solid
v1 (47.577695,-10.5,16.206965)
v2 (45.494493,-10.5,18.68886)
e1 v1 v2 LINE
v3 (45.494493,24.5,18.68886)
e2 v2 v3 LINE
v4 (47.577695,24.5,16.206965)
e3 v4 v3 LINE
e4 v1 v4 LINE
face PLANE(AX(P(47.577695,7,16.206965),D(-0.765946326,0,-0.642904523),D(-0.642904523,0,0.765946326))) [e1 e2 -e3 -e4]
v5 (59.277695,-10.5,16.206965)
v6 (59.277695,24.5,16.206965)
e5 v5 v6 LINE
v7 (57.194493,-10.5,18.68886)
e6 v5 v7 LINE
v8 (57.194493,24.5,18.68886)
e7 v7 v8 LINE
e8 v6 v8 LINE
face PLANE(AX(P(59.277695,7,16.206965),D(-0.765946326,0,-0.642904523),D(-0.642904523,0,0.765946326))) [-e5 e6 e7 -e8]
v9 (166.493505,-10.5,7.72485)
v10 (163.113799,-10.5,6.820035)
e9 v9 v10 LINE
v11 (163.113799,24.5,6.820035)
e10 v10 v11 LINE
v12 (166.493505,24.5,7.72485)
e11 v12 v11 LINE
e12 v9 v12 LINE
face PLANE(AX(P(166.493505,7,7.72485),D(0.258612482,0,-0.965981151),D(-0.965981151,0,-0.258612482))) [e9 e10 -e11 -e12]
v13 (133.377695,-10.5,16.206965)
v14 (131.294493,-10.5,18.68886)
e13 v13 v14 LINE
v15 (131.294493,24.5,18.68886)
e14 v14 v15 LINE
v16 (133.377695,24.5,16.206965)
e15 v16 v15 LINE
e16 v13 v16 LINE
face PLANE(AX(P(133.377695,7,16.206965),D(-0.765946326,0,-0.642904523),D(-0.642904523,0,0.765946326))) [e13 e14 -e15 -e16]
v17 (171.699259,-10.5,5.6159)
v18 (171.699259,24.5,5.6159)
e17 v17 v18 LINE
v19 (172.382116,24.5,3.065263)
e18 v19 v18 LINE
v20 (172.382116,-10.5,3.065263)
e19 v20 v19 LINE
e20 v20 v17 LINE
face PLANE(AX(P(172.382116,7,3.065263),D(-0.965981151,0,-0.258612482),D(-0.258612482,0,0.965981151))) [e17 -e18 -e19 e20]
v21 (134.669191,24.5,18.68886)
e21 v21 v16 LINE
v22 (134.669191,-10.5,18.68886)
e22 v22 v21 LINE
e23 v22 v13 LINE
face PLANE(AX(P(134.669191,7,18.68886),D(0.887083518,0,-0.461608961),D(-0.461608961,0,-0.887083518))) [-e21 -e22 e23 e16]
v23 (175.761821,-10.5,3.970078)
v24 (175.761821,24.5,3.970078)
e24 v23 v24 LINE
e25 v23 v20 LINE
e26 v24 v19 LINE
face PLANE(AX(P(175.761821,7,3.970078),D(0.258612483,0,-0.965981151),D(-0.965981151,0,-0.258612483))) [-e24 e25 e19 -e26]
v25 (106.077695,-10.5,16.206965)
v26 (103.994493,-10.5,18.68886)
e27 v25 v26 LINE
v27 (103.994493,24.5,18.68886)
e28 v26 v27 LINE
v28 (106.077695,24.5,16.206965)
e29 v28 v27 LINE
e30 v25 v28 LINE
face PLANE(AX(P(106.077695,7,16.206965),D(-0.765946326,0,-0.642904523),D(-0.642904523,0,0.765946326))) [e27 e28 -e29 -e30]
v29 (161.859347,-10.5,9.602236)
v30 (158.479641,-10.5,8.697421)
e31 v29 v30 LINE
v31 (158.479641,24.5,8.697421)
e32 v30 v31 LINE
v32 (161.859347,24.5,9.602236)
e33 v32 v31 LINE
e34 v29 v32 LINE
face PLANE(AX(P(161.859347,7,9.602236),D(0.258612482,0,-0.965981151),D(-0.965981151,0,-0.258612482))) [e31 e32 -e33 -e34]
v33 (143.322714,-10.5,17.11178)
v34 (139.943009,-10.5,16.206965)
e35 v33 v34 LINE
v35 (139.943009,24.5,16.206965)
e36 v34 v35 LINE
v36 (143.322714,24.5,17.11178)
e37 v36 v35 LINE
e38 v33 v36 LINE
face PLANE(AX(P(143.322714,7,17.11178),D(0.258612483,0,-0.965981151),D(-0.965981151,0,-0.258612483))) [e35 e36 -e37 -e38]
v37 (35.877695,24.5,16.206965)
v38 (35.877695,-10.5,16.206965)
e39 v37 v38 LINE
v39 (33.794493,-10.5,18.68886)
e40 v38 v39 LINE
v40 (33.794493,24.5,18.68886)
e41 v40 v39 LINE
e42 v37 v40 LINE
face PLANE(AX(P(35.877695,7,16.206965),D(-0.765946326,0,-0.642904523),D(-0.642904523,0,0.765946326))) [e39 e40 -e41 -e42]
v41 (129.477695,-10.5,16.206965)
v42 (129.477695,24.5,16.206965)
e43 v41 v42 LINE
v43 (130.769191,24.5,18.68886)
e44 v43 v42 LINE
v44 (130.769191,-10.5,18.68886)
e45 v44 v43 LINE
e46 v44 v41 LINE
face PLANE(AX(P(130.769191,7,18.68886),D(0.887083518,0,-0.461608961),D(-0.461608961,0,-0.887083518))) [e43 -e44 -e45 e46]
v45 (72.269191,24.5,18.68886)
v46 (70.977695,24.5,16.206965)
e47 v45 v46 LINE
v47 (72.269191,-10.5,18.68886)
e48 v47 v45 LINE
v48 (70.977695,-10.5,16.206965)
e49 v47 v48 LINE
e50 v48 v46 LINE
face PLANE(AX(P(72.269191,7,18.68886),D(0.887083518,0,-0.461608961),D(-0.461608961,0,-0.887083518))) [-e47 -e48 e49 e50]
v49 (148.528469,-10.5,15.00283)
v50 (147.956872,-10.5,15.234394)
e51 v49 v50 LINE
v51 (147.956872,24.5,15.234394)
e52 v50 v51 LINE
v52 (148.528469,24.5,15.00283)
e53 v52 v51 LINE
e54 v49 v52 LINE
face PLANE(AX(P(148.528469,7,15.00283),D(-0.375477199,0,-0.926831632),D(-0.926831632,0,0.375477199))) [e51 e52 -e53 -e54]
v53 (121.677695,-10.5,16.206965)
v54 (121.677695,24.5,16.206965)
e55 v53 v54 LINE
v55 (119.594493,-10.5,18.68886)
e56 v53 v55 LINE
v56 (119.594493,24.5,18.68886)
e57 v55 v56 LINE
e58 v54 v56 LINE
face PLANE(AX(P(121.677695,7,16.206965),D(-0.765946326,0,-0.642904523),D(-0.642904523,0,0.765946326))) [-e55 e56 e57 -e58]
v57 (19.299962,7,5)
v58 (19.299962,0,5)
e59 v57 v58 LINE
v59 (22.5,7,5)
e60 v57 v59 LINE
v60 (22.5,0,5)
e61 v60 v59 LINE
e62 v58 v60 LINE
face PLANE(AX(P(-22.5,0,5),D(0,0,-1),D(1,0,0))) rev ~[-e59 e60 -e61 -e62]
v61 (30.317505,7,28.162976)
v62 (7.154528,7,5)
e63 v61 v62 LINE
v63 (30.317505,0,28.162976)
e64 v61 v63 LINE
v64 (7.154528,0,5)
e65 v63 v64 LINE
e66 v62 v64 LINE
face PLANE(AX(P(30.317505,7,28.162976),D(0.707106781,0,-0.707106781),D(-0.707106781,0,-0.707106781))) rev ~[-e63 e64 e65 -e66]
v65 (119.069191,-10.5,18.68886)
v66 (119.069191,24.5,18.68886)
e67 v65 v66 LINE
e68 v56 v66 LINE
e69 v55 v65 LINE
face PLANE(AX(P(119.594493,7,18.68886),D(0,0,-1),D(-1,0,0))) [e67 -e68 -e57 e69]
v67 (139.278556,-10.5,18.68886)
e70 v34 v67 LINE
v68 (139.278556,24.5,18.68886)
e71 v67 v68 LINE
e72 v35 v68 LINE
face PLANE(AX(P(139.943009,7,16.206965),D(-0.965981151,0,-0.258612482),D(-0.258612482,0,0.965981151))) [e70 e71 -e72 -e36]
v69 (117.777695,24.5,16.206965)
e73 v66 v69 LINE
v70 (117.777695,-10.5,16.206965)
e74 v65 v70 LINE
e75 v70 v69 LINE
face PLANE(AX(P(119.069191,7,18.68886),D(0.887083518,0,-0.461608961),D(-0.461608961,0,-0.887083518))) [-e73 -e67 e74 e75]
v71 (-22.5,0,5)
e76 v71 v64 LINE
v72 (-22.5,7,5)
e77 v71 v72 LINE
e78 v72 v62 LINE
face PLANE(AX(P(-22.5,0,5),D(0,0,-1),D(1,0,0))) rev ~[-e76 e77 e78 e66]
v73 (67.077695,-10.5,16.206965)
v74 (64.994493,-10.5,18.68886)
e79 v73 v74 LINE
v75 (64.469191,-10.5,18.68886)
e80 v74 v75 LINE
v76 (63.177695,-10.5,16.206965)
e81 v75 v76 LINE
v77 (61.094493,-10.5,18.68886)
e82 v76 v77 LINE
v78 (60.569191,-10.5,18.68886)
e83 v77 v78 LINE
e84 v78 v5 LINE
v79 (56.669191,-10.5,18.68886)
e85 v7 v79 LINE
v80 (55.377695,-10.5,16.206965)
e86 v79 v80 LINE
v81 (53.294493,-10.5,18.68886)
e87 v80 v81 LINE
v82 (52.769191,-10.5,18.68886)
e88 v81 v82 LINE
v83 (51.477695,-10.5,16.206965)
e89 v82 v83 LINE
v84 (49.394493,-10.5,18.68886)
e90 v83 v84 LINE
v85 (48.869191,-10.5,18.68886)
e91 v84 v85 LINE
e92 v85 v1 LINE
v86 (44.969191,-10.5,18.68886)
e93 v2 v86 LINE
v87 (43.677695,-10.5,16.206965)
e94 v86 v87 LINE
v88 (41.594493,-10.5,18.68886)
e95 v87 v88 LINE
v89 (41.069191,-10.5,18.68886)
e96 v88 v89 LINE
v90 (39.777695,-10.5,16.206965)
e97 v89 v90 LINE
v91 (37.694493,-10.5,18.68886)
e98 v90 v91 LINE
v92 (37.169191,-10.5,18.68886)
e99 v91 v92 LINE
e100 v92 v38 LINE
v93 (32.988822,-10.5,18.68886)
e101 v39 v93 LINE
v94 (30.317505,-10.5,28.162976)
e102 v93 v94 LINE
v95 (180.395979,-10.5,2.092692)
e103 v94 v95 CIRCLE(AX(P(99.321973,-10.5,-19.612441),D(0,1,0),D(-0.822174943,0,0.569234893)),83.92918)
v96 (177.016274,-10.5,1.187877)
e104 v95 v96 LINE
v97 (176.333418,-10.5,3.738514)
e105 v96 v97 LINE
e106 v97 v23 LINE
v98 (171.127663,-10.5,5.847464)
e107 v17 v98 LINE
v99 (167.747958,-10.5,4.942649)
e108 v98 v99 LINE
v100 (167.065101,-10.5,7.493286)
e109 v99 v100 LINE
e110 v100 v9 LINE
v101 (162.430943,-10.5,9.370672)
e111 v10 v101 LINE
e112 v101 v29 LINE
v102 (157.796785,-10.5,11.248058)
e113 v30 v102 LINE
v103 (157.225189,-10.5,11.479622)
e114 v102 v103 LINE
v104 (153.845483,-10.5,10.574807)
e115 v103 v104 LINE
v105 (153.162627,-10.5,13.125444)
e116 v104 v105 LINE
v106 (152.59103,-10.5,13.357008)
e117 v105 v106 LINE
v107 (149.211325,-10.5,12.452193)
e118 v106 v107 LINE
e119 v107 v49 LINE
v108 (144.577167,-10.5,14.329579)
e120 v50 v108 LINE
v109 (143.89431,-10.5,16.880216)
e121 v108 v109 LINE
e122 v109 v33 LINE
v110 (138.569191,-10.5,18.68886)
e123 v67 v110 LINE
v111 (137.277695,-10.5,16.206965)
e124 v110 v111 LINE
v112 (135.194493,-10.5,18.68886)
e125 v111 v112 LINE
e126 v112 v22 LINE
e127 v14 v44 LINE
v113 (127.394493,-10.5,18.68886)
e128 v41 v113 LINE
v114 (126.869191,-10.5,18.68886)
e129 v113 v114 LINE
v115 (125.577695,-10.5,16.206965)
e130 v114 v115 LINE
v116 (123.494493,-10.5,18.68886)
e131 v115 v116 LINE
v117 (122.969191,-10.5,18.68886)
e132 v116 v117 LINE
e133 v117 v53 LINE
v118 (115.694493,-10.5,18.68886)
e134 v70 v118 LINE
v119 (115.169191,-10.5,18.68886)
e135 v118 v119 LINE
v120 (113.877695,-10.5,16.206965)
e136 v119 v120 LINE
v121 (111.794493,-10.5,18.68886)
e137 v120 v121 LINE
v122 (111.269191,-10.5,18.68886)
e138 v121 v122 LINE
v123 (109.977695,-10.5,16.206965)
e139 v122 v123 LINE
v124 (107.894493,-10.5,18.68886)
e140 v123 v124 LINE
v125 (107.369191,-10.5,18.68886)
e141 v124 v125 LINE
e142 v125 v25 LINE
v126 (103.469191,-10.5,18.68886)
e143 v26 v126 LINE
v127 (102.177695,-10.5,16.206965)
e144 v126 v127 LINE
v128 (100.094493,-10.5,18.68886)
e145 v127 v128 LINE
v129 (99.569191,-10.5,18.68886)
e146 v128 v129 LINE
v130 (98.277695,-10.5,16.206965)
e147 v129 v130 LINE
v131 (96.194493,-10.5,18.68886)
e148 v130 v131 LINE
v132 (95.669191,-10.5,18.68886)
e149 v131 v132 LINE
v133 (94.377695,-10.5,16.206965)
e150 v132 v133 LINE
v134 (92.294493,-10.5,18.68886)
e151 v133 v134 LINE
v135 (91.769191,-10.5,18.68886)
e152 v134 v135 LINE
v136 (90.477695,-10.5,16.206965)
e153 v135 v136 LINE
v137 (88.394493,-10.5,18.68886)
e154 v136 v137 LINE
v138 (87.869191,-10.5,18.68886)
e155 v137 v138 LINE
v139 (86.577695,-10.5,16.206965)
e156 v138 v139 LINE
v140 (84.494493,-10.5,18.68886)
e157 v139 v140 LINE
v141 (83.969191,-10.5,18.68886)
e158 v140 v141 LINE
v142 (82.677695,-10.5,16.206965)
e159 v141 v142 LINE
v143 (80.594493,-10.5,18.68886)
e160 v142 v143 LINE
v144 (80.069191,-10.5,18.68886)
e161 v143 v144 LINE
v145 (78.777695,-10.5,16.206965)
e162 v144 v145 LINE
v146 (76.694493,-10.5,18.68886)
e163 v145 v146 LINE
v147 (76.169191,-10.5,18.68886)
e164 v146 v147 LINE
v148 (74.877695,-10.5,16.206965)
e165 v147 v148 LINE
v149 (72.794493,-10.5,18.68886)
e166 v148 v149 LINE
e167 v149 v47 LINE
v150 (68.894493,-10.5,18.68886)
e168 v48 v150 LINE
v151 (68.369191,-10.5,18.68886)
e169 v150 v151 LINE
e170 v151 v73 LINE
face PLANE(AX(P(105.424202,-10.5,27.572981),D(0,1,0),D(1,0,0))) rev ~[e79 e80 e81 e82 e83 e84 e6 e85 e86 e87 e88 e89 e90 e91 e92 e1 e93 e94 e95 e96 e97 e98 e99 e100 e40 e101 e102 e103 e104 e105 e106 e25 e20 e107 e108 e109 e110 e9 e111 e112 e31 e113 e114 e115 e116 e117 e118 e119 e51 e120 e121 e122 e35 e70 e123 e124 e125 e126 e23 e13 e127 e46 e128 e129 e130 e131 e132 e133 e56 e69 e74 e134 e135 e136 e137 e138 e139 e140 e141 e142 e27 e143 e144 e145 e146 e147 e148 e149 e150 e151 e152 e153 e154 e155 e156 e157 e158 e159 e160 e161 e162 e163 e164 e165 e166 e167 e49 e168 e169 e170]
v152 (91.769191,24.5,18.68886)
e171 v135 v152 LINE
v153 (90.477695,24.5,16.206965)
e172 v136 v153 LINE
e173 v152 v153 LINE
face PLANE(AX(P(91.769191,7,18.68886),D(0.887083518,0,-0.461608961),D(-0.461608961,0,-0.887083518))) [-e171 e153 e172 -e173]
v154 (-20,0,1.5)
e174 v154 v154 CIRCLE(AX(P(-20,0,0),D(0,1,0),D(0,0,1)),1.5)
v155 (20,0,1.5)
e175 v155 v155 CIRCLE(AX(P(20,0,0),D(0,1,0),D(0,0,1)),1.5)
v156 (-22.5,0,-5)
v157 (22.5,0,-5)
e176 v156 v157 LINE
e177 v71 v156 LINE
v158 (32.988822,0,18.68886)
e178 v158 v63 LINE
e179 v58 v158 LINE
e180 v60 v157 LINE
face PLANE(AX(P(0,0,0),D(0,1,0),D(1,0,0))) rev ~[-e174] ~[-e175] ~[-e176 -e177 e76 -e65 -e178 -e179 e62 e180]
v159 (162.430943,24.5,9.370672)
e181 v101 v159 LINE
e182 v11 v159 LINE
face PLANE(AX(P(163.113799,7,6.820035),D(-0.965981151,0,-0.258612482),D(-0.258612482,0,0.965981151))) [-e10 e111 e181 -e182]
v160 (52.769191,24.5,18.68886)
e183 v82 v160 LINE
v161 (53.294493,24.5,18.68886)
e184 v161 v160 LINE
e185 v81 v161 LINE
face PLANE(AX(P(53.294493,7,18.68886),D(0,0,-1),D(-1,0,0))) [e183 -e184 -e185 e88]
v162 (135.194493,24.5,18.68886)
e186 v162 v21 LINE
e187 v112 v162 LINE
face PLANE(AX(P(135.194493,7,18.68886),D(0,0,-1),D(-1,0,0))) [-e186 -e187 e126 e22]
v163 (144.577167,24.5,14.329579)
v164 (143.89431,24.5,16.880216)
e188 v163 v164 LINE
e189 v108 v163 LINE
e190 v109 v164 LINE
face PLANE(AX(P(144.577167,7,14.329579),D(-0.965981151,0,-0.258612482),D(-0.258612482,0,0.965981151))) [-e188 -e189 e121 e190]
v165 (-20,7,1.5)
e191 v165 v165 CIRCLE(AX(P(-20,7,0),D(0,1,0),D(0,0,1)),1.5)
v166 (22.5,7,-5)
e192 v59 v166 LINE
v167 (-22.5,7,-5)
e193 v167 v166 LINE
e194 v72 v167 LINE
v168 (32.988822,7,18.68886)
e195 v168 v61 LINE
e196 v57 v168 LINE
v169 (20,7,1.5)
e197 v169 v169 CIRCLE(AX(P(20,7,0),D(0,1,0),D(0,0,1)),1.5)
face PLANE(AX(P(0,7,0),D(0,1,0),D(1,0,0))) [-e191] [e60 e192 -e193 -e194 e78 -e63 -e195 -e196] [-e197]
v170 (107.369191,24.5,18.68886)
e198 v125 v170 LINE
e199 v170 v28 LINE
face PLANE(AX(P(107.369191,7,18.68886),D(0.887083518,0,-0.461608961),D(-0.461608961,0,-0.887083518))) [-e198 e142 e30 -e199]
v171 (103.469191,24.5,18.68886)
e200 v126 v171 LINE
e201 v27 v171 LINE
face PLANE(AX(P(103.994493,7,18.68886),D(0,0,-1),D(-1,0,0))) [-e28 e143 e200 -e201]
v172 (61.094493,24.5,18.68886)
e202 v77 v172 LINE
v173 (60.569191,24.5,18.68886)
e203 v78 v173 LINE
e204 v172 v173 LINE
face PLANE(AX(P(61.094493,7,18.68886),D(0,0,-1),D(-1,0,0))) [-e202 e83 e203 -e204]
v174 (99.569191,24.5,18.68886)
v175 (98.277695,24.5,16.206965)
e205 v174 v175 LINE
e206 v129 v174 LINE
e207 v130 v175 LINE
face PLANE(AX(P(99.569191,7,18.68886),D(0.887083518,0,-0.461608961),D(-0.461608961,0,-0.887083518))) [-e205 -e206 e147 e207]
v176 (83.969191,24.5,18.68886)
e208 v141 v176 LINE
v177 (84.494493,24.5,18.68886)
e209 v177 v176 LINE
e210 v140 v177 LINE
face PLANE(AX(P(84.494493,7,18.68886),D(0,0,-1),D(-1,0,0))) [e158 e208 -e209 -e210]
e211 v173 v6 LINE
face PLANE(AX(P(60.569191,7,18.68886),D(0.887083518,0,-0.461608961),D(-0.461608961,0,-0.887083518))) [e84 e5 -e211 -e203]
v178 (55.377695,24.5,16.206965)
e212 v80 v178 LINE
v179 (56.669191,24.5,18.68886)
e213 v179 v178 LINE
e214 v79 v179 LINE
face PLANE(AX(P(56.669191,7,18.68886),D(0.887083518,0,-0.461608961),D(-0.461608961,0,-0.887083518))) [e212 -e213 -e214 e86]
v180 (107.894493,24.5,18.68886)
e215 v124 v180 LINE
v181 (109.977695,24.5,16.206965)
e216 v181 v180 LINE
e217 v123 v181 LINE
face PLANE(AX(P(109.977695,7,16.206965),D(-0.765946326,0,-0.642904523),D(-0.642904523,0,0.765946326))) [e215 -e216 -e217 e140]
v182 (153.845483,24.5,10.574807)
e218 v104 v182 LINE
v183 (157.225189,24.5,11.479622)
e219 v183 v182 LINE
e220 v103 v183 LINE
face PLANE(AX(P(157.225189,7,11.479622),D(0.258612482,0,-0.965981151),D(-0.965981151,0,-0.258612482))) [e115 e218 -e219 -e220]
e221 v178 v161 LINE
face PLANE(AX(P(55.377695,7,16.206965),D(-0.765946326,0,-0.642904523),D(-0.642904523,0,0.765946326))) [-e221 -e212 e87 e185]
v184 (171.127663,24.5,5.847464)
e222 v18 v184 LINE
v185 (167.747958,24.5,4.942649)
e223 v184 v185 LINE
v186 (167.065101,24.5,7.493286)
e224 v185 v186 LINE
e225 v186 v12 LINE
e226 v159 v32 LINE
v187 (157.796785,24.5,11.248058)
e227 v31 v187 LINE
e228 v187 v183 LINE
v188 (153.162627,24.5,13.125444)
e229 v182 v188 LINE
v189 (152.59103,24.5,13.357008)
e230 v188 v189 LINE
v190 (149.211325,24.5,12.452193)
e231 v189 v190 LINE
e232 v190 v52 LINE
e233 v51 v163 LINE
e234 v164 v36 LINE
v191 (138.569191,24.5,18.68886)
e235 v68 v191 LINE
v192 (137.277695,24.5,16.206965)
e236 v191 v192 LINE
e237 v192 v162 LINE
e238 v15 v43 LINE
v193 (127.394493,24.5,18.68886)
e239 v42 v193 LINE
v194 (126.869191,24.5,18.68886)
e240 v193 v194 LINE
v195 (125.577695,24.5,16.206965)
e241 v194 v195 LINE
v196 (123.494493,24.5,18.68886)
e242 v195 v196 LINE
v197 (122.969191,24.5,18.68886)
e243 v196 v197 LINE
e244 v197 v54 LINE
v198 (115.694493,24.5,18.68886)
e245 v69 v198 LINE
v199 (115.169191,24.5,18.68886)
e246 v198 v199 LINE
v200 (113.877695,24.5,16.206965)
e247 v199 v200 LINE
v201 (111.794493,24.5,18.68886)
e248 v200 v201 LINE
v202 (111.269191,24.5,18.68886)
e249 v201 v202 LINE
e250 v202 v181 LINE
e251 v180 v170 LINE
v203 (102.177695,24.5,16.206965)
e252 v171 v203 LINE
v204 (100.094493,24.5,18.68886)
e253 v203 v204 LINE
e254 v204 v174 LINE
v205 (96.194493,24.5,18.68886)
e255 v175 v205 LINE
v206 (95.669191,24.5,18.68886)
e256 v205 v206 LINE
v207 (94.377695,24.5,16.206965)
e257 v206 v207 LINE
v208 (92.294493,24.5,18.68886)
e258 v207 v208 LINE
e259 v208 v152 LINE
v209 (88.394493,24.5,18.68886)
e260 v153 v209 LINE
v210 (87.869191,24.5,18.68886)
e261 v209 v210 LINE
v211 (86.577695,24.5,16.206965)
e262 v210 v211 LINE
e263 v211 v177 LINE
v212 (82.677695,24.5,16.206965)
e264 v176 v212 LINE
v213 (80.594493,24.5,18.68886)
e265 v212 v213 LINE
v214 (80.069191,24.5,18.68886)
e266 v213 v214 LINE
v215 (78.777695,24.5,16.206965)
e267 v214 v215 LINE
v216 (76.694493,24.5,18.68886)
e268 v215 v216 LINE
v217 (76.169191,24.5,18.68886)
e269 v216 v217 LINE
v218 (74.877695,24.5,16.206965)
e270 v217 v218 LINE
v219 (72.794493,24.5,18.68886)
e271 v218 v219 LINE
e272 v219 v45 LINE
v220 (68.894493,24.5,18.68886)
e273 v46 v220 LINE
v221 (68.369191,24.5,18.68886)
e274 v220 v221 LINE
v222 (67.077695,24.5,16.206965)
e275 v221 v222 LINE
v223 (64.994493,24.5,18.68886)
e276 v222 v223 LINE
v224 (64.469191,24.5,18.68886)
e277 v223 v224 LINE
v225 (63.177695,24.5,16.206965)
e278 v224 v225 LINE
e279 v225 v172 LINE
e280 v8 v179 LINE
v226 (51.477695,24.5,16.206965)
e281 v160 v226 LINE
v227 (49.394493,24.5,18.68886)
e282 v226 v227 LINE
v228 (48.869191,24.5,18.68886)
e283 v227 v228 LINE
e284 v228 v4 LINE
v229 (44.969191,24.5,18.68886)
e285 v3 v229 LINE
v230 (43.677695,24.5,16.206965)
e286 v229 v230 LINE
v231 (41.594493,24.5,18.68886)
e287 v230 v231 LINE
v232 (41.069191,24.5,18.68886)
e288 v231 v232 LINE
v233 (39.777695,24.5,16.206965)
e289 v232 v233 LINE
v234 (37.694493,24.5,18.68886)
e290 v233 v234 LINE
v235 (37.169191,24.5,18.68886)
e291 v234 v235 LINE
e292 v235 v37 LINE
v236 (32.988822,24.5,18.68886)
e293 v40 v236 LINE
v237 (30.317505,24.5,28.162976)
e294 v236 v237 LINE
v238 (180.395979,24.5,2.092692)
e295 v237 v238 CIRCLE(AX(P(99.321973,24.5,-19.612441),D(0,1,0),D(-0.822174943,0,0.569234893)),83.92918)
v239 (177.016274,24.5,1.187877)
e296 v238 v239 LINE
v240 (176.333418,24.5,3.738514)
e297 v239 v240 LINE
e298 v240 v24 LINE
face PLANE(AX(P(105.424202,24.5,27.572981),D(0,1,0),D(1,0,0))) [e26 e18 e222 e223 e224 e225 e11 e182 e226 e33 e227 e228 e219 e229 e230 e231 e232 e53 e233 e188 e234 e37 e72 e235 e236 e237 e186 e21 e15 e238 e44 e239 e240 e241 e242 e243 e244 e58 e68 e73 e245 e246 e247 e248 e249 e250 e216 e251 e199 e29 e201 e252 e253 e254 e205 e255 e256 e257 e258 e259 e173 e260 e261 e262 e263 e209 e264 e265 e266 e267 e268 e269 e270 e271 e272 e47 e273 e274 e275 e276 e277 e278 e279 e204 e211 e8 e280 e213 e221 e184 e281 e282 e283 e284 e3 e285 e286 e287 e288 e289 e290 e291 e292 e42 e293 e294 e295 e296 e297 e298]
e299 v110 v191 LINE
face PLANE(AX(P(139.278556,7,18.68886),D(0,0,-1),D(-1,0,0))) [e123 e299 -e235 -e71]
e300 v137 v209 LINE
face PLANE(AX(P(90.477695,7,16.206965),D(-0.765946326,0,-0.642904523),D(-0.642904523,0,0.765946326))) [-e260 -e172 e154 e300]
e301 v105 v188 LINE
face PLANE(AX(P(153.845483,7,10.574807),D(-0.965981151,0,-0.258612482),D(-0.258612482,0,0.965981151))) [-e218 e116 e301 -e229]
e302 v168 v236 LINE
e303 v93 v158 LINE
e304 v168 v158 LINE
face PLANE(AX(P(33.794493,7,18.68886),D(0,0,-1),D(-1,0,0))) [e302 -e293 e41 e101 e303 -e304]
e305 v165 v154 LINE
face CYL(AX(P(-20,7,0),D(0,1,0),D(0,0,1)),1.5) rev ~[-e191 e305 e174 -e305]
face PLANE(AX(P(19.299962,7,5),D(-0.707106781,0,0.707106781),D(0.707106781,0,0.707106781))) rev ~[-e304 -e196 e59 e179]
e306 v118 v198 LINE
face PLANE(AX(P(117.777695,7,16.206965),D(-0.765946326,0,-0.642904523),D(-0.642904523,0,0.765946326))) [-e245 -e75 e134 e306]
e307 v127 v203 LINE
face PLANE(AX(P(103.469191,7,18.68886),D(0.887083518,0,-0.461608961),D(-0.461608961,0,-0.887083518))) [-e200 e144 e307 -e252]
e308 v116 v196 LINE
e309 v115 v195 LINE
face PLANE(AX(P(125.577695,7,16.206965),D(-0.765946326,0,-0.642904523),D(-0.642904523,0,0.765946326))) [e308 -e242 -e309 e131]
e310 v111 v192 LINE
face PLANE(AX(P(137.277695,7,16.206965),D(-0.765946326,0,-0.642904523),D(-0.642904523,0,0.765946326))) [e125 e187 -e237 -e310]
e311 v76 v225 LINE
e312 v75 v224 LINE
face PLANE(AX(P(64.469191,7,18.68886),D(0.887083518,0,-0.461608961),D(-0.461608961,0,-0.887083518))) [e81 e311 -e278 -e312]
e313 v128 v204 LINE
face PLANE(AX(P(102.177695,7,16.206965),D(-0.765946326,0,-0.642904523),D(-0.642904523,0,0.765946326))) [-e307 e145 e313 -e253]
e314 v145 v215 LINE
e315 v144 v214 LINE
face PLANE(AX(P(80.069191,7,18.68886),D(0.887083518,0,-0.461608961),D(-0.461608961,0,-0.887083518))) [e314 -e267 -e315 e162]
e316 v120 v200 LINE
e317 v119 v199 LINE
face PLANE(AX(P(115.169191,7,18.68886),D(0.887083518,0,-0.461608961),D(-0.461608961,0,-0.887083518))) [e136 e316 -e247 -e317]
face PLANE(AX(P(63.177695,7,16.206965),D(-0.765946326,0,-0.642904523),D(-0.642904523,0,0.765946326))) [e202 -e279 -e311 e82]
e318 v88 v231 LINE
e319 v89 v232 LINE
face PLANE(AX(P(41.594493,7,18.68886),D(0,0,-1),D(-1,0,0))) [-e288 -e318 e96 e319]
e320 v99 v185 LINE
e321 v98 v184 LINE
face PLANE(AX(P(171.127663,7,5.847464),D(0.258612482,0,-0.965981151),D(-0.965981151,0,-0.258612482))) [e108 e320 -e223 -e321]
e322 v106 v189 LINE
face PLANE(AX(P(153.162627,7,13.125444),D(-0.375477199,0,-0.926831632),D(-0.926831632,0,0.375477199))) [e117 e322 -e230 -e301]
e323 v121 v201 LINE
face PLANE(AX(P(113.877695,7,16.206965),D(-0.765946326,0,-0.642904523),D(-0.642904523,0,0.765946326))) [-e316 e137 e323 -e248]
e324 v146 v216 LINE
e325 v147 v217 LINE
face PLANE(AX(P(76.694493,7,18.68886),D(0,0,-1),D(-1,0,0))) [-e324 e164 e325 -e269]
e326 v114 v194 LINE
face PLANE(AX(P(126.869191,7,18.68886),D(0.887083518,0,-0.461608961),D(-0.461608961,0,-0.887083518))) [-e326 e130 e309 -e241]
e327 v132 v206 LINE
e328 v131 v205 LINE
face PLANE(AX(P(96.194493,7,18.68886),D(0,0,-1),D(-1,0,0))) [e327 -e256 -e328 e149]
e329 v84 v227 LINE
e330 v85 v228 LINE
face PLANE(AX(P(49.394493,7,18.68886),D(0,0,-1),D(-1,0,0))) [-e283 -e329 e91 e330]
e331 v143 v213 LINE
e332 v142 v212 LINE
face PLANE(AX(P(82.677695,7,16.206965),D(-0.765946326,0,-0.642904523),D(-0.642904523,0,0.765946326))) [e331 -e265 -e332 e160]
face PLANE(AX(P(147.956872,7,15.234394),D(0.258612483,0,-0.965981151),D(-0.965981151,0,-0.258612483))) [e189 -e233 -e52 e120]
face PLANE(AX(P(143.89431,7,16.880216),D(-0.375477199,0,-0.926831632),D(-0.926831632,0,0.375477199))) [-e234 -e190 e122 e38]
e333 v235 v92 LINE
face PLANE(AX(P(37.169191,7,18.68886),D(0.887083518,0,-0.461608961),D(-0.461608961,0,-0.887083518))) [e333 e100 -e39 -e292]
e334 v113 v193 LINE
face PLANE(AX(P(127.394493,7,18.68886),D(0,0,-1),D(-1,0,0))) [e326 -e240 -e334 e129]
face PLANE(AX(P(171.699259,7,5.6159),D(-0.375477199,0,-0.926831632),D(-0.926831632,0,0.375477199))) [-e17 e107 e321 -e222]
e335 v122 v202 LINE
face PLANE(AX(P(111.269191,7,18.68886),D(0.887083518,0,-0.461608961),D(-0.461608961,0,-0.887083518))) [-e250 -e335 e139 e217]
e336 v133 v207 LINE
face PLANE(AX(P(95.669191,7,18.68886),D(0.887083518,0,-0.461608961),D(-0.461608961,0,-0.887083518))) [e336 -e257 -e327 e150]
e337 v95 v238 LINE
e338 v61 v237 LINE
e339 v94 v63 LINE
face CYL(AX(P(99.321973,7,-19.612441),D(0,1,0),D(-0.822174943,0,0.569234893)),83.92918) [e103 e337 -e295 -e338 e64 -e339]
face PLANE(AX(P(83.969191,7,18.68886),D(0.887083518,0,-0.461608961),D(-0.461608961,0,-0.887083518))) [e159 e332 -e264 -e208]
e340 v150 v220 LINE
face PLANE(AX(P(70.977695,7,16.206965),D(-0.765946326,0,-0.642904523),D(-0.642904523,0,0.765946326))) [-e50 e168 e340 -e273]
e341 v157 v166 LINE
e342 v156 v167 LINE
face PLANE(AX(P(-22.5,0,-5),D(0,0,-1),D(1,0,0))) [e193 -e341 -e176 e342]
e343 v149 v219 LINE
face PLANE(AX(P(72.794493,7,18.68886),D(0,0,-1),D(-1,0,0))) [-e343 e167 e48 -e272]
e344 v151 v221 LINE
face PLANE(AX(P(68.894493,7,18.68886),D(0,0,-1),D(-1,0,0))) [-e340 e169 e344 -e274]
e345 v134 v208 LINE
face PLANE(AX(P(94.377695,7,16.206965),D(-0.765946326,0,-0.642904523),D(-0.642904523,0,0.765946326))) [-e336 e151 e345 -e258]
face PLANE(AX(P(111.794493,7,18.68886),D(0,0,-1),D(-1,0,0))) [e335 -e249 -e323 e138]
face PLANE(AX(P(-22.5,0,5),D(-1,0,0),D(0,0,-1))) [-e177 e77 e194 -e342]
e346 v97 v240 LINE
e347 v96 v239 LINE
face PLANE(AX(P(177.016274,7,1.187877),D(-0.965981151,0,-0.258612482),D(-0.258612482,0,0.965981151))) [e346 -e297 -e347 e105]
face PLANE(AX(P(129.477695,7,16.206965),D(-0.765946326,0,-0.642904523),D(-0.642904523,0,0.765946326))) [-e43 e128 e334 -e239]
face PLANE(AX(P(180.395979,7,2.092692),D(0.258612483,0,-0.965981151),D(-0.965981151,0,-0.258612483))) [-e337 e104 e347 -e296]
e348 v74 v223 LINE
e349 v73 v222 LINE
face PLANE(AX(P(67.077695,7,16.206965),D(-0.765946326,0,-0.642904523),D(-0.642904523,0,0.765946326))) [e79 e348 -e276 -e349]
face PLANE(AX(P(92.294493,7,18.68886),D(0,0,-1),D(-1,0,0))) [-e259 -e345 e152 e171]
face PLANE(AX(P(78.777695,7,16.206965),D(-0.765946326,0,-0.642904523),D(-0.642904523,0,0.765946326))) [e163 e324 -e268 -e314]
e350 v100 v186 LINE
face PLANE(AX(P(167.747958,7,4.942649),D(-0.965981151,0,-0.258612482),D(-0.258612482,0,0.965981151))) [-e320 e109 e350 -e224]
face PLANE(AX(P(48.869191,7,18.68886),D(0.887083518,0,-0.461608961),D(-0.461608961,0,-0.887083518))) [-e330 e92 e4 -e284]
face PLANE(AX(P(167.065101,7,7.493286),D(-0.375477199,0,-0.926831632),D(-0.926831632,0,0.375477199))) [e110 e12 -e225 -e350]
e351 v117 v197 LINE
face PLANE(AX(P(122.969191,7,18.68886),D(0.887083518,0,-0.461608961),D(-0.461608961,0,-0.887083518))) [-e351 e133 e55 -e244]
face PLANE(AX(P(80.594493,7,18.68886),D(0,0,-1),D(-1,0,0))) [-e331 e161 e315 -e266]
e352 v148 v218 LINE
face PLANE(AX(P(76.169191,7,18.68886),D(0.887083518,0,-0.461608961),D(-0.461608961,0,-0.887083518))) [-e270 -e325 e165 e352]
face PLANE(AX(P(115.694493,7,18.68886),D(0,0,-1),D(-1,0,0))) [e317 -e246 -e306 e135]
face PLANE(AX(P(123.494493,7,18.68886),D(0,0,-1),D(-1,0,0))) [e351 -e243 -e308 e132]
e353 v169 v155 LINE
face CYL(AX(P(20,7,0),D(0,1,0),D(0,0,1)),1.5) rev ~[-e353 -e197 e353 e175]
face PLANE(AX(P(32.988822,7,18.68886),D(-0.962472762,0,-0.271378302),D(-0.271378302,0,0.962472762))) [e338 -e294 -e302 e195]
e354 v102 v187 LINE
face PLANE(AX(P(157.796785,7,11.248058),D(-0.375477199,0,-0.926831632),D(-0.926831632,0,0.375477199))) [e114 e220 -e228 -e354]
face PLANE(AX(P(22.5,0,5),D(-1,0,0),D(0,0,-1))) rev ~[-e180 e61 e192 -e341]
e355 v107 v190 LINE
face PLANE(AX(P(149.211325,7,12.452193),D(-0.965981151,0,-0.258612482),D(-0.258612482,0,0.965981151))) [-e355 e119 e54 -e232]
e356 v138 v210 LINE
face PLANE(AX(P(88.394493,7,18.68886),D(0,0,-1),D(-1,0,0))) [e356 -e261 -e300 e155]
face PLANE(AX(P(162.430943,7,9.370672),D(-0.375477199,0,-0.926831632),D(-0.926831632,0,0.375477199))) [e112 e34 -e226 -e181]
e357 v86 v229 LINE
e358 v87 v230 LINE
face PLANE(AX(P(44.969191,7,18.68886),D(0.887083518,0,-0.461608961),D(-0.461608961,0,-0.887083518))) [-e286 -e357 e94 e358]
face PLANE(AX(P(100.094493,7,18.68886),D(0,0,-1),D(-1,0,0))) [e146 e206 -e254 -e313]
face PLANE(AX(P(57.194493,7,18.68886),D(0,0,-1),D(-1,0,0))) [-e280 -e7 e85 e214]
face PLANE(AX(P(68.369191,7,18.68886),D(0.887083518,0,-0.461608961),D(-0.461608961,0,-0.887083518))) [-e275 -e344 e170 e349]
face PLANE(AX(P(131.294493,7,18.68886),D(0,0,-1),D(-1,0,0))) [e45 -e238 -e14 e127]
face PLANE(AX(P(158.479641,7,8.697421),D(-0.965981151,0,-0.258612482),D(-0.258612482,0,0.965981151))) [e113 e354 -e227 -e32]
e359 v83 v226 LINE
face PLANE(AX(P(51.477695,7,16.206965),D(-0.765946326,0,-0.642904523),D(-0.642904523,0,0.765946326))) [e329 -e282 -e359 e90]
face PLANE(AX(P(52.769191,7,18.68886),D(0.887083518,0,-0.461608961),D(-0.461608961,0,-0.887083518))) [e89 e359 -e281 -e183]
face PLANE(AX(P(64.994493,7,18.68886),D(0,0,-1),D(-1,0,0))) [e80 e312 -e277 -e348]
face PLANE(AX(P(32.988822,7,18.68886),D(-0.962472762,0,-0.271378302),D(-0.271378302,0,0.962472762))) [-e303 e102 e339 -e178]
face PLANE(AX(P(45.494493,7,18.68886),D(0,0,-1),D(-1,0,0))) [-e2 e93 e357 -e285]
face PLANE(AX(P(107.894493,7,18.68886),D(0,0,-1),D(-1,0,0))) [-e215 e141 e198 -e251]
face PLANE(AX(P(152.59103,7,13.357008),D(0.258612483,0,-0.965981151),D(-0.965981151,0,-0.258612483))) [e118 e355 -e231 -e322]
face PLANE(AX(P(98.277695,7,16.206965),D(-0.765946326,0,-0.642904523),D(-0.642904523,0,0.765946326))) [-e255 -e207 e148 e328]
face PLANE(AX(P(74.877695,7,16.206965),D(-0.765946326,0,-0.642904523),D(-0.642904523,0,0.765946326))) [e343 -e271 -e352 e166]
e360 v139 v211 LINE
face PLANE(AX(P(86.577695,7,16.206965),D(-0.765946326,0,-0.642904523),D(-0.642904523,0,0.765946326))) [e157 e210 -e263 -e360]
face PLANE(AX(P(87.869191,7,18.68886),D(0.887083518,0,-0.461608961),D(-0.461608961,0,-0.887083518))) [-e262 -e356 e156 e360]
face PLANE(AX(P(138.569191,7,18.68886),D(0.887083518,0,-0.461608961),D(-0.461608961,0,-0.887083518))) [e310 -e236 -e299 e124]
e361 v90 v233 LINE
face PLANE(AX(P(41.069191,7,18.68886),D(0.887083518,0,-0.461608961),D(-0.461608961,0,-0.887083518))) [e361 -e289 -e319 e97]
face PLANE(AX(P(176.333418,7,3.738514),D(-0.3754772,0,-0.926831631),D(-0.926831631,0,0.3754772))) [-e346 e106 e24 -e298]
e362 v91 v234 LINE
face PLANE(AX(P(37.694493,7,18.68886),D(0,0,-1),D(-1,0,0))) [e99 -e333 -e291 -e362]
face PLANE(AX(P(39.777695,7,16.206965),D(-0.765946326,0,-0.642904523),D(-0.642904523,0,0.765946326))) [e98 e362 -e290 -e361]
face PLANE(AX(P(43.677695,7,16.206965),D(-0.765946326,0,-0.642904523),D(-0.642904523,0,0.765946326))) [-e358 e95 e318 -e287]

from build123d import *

# Parameters (mm, degrees)
SKETCH1_W           = 45
SKETCH1_H           = 10
BOSS_EXTRUDE1_DEPTH = 7
SKETCH2_R           = 1.5
CUT_EXTRUDE1_DEPTH  = 15
BOSS_EXTRUDE2_DEPTH = 7
BOSS_EXTRUDE3_DEPTH = 17.5


with BuildPart() as part:
    # Sketch1 → Boss-Extrude1 (new body)
    with BuildSketch(Plane(origin=(0, 0, 0), x_dir=(1, 0, 0), z_dir=(0, 1, 0))):
        Rectangle(SKETCH1_W, SKETCH1_H)
    extrude(amount=BOSS_EXTRUDE1_DEPTH)

    # Sketch2 → Cut-Extrude1 (cut)
    with BuildSketch(Plane(origin=(0, 7, 0), x_dir=(1, 0, 0), z_dir=(0, 1, 0))):
        with Locations((-20, 0)):
            Circle(SKETCH2_R)
        with Locations((20, 0)):
            Circle(SKETCH2_R)
    extrude(amount=-CUT_EXTRUDE1_DEPTH, mode=Mode.SUBTRACT)

    # Sketch5 → Boss-Extrude2 (add)
    with BuildSketch(Plane(origin=(0, 7, 0), x_dir=(1, 0, 0), z_dir=(0, 1, 0))):
        Polygon((19.2999618, -5), (32.988821569, -18.688859769), (30.31750473, -28.162976429), (7.154528301, -5), align=None)
    extrude(amount=-BOSS_EXTRUDE2_DEPTH)

    # Sketch5<6> → Boss-Extrude3 (add, symmetric)
    with BuildSketch(Plane(origin=(0, 7, 0), x_dir=(1, 0, 0), z_dir=(0, 1, 0))):
        with BuildLine():
            Line((33.794492956, -18.688859769), (32.988821569, -18.688859769))
            Line((32.988821569, -18.688859769), (30.31750473, -28.162976429))
            ThreePointArc((30.31750473, -28.162976429), (113.686282102, -63.078391798), (180.395979402, -2.092692187))
            Line((180.395979402, -2.092692187), (177.016273904, -1.1878774))
            Line((177.016273904, -1.1878774), (176.333417559, -3.738513594))
            Line((176.333417559, -3.738513594), (175.761821244, -3.970078181))
            Line((175.761821244, -3.970078181), (172.382115747, -3.065263394))
            Line((172.382115747, -3.065263394), (171.699259402, -5.615899588))
            Line((171.699259402, -5.615899588), (171.127663087, -5.847464174))
            Line((171.127663087, -5.847464174), (167.747957589, -4.942649388))
            Line((167.747957589, -4.942649388), (167.065101244, -7.493285582))
            Line((167.065101244, -7.493285582), (166.493504929, -7.724850168))
            Line((166.493504929, -7.724850168), (163.113799431, -6.820035382))
            Line((163.113799431, -6.820035382), (162.430943086, -9.370671576))
            Line((162.430943086, -9.370671576), (161.859346771, -9.602236162))
            Line((161.859346771, -9.602236162), (158.479641274, -8.697421376))
            Line((158.479641274, -8.697421376), (157.796784929, -11.24805757))
            Line((157.796784929, -11.24805757), (157.225188614, -11.479622156))
            Line((157.225188614, -11.479622156), (153.845483116, -10.57480737))
            Line((153.845483116, -10.57480737), (153.162626771, -13.125443564))
            Line((153.162626771, -13.125443564), (152.591030456, -13.35700815))
            Line((152.591030456, -13.35700815), (149.211324958, -12.452193363))
            Line((149.211324958, -12.452193363), (148.528468613, -15.002829558))
            Line((148.528468613, -15.002829558), (147.956872298, -15.234394144))
            Line((147.956872298, -15.234394144), (144.577166801, -14.329579357))
            Line((144.577166801, -14.329579357), (143.894310456, -16.880215552))
            Line((143.894310456, -16.880215552), (143.322714141, -17.111780138))
            Line((143.322714141, -17.111780138), (139.943008643, -16.206965351))
            Line((139.943008643, -16.206965351), (139.278555847, -18.688859769))
            Line((139.278555847, -18.688859769), (138.569191128, -18.688859769))
            Line((138.569191128, -18.688859769), (137.277695253, -16.206965351))
            Line((137.277695253, -16.206965351), (135.194492956, -18.688859769))
            Line((135.194492956, -18.688859769), (134.669191128, -18.688859769))
            Line((134.669191128, -18.688859769), (133.377695253, -16.206965351))
            Line((133.377695253, -16.206965351), (131.294492956, -18.688859769))
            Line((131.294492956, -18.688859769), (130.769191128, -18.688859769))
            Line((130.769191128, -18.688859769), (129.477695253, -16.206965351))
            Line((129.477695253, -16.206965351), (127.394492956, -18.688859769))
            Line((127.394492956, -18.688859769), (126.869191128, -18.688859769))
            Line((126.869191128, -18.688859769), (125.577695253, -16.206965351))
            Line((125.577695253, -16.206965351), (123.494492956, -18.688859769))
            Line((123.494492956, -18.688859769), (122.969191128, -18.688859769))
            Line((122.969191128, -18.688859769), (121.677695253, -16.206965351))
            Line((121.677695253, -16.206965351), (119.594492956, -18.688859769))
            Line((119.594492956, -18.688859769), (119.069191128, -18.688859769))
            Line((119.069191128, -18.688859769), (117.777695253, -16.206965351))
            Line((117.777695253, -16.206965351), (115.694492956, -18.688859769))
            Line((115.694492956, -18.688859769), (115.169191128, -18.688859769))
            Line((115.169191128, -18.688859769), (113.877695253, -16.206965351))
            Line((113.877695253, -16.206965351), (111.794492956, -18.688859769))
            Line((111.794492956, -18.688859769), (111.269191128, -18.688859769))
            Line((111.269191128, -18.688859769), (109.977695253, -16.206965351))
            Line((109.977695253, -16.206965351), (107.894492956, -18.688859769))
            Line((107.894492956, -18.688859769), (107.369191128, -18.688859769))
            Line((107.369191128, -18.688859769), (106.077695253, -16.206965351))
            Line((106.077695253, -16.206965351), (103.994492956, -18.688859769))
            Line((103.994492956, -18.688859769), (103.469191128, -18.688859769))
            Line((103.469191128, -18.688859769), (102.177695253, -16.206965351))
            Line((102.177695253, -16.206965351), (100.094492956, -18.688859769))
            Line((100.094492956, -18.688859769), (99.569191128, -18.688859769))
            Line((99.569191128, -18.688859769), (98.277695253, -16.206965351))
            Line((98.277695253, -16.206965351), (96.194492956, -18.688859769))
            Line((96.194492956, -18.688859769), (95.669191128, -18.688859769))
            Line((95.669191128, -18.688859769), (94.377695253, -16.206965351))
            Line((94.377695253, -16.206965351), (92.294492956, -18.688859769))
            Line((92.294492956, -18.688859769), (91.769191128, -18.688859769))
            Line((91.769191128, -18.688859769), (90.477695253, -16.206965351))
            Line((90.477695253, -16.206965351), (88.394492956, -18.688859769))
            Line((88.394492956, -18.688859769), (87.869191128, -18.688859769))
            Line((87.869191128, -18.688859769), (86.577695253, -16.206965351))
            Line((86.577695253, -16.206965351), (84.494492956, -18.688859769))
            Line((84.494492956, -18.688859769), (83.969191128, -18.688859769))
            Line((83.969191128, -18.688859769), (82.677695253, -16.206965351))
            Line((82.677695253, -16.206965351), (80.594492956, -18.688859769))
            Line((80.594492956, -18.688859769), (80.069191128, -18.688859769))
            Line((80.069191128, -18.688859769), (78.777695253, -16.206965351))
            Line((78.777695253, -16.206965351), (76.694492956, -18.688859769))
            Line((76.694492956, -18.688859769), (76.169191128, -18.688859769))
            Line((76.169191128, -18.688859769), (74.877695253, -16.206965351))
            Line((74.877695253, -16.206965351), (72.794492956, -18.688859769))
            Line((72.794492956, -18.688859769), (72.269191128, -18.688859769))
            Line((72.269191128, -18.688859769), (70.977695253, -16.206965351))
            Line((70.977695253, -16.206965351), (68.894492956, -18.688859769))
            Line((68.894492956, -18.688859769), (68.369191128, -18.688859769))
            Line((68.369191128, -18.688859769), (67.077695253, -16.206965351))
            Line((67.077695253, -16.206965351), (64.994492956, -18.688859769))
            Line((64.994492956, -18.688859769), (64.469191128, -18.688859769))
            Line((64.469191128, -18.688859769), (63.177695253, -16.206965351))
            Line((63.177695253, -16.206965351), (61.094492956, -18.688859769))
            Line((61.094492956, -18.688859769), (60.569191128, -18.688859769))
            Line((60.569191128, -18.688859769), (59.277695253, -16.206965351))
            Line((59.277695253, -16.206965351), (57.194492956, -18.688859769))
            Line((57.194492956, -18.688859769), (56.669191128, -18.688859769))
            Line((56.669191128, -18.688859769), (55.377695253, -16.206965351))
            Line((55.377695253, -16.206965351), (53.294492956, -18.688859769))
            Line((53.294492956, -18.688859769), (52.769191128, -18.688859769))
            Line((52.769191128, -18.688859769), (51.477695253, -16.206965351))
            Line((51.477695253, -16.206965351), (49.394492956, -18.688859769))
            Line((49.394492956, -18.688859769), (48.869191128, -18.688859769))
            Line((48.869191128, -18.688859769), (47.577695253, -16.206965351))
            Line((47.577695253, -16.206965351), (45.494492956, -18.688859769))
            Line((45.494492956, -18.688859769), (44.969191128, -18.688859769))
            Line((44.969191128, -18.688859769), (43.677695253, -16.206965351))
            Line((43.677695253, -16.206965351), (41.594492956, -18.688859769))
            Line((41.594492956, -18.688859769), (41.069191128, -18.688859769))
            Line((41.069191128, -18.688859769), (39.777695253, -16.206965351))
            Line((39.777695253, -16.206965351), (37.694492956, -18.688859769))
            Line((37.694492956, -18.688859769), (37.169191128, -18.688859769))
            Line((37.169191128, -18.688859769), (35.877695253, -16.206965351))
            Line((35.877695253, -16.206965351), (33.794492956, -18.688859769))
        make_face()
    extrude(amount=BOSS_EXTRUDE3_DEPTH, both=True)


solid = part.part
